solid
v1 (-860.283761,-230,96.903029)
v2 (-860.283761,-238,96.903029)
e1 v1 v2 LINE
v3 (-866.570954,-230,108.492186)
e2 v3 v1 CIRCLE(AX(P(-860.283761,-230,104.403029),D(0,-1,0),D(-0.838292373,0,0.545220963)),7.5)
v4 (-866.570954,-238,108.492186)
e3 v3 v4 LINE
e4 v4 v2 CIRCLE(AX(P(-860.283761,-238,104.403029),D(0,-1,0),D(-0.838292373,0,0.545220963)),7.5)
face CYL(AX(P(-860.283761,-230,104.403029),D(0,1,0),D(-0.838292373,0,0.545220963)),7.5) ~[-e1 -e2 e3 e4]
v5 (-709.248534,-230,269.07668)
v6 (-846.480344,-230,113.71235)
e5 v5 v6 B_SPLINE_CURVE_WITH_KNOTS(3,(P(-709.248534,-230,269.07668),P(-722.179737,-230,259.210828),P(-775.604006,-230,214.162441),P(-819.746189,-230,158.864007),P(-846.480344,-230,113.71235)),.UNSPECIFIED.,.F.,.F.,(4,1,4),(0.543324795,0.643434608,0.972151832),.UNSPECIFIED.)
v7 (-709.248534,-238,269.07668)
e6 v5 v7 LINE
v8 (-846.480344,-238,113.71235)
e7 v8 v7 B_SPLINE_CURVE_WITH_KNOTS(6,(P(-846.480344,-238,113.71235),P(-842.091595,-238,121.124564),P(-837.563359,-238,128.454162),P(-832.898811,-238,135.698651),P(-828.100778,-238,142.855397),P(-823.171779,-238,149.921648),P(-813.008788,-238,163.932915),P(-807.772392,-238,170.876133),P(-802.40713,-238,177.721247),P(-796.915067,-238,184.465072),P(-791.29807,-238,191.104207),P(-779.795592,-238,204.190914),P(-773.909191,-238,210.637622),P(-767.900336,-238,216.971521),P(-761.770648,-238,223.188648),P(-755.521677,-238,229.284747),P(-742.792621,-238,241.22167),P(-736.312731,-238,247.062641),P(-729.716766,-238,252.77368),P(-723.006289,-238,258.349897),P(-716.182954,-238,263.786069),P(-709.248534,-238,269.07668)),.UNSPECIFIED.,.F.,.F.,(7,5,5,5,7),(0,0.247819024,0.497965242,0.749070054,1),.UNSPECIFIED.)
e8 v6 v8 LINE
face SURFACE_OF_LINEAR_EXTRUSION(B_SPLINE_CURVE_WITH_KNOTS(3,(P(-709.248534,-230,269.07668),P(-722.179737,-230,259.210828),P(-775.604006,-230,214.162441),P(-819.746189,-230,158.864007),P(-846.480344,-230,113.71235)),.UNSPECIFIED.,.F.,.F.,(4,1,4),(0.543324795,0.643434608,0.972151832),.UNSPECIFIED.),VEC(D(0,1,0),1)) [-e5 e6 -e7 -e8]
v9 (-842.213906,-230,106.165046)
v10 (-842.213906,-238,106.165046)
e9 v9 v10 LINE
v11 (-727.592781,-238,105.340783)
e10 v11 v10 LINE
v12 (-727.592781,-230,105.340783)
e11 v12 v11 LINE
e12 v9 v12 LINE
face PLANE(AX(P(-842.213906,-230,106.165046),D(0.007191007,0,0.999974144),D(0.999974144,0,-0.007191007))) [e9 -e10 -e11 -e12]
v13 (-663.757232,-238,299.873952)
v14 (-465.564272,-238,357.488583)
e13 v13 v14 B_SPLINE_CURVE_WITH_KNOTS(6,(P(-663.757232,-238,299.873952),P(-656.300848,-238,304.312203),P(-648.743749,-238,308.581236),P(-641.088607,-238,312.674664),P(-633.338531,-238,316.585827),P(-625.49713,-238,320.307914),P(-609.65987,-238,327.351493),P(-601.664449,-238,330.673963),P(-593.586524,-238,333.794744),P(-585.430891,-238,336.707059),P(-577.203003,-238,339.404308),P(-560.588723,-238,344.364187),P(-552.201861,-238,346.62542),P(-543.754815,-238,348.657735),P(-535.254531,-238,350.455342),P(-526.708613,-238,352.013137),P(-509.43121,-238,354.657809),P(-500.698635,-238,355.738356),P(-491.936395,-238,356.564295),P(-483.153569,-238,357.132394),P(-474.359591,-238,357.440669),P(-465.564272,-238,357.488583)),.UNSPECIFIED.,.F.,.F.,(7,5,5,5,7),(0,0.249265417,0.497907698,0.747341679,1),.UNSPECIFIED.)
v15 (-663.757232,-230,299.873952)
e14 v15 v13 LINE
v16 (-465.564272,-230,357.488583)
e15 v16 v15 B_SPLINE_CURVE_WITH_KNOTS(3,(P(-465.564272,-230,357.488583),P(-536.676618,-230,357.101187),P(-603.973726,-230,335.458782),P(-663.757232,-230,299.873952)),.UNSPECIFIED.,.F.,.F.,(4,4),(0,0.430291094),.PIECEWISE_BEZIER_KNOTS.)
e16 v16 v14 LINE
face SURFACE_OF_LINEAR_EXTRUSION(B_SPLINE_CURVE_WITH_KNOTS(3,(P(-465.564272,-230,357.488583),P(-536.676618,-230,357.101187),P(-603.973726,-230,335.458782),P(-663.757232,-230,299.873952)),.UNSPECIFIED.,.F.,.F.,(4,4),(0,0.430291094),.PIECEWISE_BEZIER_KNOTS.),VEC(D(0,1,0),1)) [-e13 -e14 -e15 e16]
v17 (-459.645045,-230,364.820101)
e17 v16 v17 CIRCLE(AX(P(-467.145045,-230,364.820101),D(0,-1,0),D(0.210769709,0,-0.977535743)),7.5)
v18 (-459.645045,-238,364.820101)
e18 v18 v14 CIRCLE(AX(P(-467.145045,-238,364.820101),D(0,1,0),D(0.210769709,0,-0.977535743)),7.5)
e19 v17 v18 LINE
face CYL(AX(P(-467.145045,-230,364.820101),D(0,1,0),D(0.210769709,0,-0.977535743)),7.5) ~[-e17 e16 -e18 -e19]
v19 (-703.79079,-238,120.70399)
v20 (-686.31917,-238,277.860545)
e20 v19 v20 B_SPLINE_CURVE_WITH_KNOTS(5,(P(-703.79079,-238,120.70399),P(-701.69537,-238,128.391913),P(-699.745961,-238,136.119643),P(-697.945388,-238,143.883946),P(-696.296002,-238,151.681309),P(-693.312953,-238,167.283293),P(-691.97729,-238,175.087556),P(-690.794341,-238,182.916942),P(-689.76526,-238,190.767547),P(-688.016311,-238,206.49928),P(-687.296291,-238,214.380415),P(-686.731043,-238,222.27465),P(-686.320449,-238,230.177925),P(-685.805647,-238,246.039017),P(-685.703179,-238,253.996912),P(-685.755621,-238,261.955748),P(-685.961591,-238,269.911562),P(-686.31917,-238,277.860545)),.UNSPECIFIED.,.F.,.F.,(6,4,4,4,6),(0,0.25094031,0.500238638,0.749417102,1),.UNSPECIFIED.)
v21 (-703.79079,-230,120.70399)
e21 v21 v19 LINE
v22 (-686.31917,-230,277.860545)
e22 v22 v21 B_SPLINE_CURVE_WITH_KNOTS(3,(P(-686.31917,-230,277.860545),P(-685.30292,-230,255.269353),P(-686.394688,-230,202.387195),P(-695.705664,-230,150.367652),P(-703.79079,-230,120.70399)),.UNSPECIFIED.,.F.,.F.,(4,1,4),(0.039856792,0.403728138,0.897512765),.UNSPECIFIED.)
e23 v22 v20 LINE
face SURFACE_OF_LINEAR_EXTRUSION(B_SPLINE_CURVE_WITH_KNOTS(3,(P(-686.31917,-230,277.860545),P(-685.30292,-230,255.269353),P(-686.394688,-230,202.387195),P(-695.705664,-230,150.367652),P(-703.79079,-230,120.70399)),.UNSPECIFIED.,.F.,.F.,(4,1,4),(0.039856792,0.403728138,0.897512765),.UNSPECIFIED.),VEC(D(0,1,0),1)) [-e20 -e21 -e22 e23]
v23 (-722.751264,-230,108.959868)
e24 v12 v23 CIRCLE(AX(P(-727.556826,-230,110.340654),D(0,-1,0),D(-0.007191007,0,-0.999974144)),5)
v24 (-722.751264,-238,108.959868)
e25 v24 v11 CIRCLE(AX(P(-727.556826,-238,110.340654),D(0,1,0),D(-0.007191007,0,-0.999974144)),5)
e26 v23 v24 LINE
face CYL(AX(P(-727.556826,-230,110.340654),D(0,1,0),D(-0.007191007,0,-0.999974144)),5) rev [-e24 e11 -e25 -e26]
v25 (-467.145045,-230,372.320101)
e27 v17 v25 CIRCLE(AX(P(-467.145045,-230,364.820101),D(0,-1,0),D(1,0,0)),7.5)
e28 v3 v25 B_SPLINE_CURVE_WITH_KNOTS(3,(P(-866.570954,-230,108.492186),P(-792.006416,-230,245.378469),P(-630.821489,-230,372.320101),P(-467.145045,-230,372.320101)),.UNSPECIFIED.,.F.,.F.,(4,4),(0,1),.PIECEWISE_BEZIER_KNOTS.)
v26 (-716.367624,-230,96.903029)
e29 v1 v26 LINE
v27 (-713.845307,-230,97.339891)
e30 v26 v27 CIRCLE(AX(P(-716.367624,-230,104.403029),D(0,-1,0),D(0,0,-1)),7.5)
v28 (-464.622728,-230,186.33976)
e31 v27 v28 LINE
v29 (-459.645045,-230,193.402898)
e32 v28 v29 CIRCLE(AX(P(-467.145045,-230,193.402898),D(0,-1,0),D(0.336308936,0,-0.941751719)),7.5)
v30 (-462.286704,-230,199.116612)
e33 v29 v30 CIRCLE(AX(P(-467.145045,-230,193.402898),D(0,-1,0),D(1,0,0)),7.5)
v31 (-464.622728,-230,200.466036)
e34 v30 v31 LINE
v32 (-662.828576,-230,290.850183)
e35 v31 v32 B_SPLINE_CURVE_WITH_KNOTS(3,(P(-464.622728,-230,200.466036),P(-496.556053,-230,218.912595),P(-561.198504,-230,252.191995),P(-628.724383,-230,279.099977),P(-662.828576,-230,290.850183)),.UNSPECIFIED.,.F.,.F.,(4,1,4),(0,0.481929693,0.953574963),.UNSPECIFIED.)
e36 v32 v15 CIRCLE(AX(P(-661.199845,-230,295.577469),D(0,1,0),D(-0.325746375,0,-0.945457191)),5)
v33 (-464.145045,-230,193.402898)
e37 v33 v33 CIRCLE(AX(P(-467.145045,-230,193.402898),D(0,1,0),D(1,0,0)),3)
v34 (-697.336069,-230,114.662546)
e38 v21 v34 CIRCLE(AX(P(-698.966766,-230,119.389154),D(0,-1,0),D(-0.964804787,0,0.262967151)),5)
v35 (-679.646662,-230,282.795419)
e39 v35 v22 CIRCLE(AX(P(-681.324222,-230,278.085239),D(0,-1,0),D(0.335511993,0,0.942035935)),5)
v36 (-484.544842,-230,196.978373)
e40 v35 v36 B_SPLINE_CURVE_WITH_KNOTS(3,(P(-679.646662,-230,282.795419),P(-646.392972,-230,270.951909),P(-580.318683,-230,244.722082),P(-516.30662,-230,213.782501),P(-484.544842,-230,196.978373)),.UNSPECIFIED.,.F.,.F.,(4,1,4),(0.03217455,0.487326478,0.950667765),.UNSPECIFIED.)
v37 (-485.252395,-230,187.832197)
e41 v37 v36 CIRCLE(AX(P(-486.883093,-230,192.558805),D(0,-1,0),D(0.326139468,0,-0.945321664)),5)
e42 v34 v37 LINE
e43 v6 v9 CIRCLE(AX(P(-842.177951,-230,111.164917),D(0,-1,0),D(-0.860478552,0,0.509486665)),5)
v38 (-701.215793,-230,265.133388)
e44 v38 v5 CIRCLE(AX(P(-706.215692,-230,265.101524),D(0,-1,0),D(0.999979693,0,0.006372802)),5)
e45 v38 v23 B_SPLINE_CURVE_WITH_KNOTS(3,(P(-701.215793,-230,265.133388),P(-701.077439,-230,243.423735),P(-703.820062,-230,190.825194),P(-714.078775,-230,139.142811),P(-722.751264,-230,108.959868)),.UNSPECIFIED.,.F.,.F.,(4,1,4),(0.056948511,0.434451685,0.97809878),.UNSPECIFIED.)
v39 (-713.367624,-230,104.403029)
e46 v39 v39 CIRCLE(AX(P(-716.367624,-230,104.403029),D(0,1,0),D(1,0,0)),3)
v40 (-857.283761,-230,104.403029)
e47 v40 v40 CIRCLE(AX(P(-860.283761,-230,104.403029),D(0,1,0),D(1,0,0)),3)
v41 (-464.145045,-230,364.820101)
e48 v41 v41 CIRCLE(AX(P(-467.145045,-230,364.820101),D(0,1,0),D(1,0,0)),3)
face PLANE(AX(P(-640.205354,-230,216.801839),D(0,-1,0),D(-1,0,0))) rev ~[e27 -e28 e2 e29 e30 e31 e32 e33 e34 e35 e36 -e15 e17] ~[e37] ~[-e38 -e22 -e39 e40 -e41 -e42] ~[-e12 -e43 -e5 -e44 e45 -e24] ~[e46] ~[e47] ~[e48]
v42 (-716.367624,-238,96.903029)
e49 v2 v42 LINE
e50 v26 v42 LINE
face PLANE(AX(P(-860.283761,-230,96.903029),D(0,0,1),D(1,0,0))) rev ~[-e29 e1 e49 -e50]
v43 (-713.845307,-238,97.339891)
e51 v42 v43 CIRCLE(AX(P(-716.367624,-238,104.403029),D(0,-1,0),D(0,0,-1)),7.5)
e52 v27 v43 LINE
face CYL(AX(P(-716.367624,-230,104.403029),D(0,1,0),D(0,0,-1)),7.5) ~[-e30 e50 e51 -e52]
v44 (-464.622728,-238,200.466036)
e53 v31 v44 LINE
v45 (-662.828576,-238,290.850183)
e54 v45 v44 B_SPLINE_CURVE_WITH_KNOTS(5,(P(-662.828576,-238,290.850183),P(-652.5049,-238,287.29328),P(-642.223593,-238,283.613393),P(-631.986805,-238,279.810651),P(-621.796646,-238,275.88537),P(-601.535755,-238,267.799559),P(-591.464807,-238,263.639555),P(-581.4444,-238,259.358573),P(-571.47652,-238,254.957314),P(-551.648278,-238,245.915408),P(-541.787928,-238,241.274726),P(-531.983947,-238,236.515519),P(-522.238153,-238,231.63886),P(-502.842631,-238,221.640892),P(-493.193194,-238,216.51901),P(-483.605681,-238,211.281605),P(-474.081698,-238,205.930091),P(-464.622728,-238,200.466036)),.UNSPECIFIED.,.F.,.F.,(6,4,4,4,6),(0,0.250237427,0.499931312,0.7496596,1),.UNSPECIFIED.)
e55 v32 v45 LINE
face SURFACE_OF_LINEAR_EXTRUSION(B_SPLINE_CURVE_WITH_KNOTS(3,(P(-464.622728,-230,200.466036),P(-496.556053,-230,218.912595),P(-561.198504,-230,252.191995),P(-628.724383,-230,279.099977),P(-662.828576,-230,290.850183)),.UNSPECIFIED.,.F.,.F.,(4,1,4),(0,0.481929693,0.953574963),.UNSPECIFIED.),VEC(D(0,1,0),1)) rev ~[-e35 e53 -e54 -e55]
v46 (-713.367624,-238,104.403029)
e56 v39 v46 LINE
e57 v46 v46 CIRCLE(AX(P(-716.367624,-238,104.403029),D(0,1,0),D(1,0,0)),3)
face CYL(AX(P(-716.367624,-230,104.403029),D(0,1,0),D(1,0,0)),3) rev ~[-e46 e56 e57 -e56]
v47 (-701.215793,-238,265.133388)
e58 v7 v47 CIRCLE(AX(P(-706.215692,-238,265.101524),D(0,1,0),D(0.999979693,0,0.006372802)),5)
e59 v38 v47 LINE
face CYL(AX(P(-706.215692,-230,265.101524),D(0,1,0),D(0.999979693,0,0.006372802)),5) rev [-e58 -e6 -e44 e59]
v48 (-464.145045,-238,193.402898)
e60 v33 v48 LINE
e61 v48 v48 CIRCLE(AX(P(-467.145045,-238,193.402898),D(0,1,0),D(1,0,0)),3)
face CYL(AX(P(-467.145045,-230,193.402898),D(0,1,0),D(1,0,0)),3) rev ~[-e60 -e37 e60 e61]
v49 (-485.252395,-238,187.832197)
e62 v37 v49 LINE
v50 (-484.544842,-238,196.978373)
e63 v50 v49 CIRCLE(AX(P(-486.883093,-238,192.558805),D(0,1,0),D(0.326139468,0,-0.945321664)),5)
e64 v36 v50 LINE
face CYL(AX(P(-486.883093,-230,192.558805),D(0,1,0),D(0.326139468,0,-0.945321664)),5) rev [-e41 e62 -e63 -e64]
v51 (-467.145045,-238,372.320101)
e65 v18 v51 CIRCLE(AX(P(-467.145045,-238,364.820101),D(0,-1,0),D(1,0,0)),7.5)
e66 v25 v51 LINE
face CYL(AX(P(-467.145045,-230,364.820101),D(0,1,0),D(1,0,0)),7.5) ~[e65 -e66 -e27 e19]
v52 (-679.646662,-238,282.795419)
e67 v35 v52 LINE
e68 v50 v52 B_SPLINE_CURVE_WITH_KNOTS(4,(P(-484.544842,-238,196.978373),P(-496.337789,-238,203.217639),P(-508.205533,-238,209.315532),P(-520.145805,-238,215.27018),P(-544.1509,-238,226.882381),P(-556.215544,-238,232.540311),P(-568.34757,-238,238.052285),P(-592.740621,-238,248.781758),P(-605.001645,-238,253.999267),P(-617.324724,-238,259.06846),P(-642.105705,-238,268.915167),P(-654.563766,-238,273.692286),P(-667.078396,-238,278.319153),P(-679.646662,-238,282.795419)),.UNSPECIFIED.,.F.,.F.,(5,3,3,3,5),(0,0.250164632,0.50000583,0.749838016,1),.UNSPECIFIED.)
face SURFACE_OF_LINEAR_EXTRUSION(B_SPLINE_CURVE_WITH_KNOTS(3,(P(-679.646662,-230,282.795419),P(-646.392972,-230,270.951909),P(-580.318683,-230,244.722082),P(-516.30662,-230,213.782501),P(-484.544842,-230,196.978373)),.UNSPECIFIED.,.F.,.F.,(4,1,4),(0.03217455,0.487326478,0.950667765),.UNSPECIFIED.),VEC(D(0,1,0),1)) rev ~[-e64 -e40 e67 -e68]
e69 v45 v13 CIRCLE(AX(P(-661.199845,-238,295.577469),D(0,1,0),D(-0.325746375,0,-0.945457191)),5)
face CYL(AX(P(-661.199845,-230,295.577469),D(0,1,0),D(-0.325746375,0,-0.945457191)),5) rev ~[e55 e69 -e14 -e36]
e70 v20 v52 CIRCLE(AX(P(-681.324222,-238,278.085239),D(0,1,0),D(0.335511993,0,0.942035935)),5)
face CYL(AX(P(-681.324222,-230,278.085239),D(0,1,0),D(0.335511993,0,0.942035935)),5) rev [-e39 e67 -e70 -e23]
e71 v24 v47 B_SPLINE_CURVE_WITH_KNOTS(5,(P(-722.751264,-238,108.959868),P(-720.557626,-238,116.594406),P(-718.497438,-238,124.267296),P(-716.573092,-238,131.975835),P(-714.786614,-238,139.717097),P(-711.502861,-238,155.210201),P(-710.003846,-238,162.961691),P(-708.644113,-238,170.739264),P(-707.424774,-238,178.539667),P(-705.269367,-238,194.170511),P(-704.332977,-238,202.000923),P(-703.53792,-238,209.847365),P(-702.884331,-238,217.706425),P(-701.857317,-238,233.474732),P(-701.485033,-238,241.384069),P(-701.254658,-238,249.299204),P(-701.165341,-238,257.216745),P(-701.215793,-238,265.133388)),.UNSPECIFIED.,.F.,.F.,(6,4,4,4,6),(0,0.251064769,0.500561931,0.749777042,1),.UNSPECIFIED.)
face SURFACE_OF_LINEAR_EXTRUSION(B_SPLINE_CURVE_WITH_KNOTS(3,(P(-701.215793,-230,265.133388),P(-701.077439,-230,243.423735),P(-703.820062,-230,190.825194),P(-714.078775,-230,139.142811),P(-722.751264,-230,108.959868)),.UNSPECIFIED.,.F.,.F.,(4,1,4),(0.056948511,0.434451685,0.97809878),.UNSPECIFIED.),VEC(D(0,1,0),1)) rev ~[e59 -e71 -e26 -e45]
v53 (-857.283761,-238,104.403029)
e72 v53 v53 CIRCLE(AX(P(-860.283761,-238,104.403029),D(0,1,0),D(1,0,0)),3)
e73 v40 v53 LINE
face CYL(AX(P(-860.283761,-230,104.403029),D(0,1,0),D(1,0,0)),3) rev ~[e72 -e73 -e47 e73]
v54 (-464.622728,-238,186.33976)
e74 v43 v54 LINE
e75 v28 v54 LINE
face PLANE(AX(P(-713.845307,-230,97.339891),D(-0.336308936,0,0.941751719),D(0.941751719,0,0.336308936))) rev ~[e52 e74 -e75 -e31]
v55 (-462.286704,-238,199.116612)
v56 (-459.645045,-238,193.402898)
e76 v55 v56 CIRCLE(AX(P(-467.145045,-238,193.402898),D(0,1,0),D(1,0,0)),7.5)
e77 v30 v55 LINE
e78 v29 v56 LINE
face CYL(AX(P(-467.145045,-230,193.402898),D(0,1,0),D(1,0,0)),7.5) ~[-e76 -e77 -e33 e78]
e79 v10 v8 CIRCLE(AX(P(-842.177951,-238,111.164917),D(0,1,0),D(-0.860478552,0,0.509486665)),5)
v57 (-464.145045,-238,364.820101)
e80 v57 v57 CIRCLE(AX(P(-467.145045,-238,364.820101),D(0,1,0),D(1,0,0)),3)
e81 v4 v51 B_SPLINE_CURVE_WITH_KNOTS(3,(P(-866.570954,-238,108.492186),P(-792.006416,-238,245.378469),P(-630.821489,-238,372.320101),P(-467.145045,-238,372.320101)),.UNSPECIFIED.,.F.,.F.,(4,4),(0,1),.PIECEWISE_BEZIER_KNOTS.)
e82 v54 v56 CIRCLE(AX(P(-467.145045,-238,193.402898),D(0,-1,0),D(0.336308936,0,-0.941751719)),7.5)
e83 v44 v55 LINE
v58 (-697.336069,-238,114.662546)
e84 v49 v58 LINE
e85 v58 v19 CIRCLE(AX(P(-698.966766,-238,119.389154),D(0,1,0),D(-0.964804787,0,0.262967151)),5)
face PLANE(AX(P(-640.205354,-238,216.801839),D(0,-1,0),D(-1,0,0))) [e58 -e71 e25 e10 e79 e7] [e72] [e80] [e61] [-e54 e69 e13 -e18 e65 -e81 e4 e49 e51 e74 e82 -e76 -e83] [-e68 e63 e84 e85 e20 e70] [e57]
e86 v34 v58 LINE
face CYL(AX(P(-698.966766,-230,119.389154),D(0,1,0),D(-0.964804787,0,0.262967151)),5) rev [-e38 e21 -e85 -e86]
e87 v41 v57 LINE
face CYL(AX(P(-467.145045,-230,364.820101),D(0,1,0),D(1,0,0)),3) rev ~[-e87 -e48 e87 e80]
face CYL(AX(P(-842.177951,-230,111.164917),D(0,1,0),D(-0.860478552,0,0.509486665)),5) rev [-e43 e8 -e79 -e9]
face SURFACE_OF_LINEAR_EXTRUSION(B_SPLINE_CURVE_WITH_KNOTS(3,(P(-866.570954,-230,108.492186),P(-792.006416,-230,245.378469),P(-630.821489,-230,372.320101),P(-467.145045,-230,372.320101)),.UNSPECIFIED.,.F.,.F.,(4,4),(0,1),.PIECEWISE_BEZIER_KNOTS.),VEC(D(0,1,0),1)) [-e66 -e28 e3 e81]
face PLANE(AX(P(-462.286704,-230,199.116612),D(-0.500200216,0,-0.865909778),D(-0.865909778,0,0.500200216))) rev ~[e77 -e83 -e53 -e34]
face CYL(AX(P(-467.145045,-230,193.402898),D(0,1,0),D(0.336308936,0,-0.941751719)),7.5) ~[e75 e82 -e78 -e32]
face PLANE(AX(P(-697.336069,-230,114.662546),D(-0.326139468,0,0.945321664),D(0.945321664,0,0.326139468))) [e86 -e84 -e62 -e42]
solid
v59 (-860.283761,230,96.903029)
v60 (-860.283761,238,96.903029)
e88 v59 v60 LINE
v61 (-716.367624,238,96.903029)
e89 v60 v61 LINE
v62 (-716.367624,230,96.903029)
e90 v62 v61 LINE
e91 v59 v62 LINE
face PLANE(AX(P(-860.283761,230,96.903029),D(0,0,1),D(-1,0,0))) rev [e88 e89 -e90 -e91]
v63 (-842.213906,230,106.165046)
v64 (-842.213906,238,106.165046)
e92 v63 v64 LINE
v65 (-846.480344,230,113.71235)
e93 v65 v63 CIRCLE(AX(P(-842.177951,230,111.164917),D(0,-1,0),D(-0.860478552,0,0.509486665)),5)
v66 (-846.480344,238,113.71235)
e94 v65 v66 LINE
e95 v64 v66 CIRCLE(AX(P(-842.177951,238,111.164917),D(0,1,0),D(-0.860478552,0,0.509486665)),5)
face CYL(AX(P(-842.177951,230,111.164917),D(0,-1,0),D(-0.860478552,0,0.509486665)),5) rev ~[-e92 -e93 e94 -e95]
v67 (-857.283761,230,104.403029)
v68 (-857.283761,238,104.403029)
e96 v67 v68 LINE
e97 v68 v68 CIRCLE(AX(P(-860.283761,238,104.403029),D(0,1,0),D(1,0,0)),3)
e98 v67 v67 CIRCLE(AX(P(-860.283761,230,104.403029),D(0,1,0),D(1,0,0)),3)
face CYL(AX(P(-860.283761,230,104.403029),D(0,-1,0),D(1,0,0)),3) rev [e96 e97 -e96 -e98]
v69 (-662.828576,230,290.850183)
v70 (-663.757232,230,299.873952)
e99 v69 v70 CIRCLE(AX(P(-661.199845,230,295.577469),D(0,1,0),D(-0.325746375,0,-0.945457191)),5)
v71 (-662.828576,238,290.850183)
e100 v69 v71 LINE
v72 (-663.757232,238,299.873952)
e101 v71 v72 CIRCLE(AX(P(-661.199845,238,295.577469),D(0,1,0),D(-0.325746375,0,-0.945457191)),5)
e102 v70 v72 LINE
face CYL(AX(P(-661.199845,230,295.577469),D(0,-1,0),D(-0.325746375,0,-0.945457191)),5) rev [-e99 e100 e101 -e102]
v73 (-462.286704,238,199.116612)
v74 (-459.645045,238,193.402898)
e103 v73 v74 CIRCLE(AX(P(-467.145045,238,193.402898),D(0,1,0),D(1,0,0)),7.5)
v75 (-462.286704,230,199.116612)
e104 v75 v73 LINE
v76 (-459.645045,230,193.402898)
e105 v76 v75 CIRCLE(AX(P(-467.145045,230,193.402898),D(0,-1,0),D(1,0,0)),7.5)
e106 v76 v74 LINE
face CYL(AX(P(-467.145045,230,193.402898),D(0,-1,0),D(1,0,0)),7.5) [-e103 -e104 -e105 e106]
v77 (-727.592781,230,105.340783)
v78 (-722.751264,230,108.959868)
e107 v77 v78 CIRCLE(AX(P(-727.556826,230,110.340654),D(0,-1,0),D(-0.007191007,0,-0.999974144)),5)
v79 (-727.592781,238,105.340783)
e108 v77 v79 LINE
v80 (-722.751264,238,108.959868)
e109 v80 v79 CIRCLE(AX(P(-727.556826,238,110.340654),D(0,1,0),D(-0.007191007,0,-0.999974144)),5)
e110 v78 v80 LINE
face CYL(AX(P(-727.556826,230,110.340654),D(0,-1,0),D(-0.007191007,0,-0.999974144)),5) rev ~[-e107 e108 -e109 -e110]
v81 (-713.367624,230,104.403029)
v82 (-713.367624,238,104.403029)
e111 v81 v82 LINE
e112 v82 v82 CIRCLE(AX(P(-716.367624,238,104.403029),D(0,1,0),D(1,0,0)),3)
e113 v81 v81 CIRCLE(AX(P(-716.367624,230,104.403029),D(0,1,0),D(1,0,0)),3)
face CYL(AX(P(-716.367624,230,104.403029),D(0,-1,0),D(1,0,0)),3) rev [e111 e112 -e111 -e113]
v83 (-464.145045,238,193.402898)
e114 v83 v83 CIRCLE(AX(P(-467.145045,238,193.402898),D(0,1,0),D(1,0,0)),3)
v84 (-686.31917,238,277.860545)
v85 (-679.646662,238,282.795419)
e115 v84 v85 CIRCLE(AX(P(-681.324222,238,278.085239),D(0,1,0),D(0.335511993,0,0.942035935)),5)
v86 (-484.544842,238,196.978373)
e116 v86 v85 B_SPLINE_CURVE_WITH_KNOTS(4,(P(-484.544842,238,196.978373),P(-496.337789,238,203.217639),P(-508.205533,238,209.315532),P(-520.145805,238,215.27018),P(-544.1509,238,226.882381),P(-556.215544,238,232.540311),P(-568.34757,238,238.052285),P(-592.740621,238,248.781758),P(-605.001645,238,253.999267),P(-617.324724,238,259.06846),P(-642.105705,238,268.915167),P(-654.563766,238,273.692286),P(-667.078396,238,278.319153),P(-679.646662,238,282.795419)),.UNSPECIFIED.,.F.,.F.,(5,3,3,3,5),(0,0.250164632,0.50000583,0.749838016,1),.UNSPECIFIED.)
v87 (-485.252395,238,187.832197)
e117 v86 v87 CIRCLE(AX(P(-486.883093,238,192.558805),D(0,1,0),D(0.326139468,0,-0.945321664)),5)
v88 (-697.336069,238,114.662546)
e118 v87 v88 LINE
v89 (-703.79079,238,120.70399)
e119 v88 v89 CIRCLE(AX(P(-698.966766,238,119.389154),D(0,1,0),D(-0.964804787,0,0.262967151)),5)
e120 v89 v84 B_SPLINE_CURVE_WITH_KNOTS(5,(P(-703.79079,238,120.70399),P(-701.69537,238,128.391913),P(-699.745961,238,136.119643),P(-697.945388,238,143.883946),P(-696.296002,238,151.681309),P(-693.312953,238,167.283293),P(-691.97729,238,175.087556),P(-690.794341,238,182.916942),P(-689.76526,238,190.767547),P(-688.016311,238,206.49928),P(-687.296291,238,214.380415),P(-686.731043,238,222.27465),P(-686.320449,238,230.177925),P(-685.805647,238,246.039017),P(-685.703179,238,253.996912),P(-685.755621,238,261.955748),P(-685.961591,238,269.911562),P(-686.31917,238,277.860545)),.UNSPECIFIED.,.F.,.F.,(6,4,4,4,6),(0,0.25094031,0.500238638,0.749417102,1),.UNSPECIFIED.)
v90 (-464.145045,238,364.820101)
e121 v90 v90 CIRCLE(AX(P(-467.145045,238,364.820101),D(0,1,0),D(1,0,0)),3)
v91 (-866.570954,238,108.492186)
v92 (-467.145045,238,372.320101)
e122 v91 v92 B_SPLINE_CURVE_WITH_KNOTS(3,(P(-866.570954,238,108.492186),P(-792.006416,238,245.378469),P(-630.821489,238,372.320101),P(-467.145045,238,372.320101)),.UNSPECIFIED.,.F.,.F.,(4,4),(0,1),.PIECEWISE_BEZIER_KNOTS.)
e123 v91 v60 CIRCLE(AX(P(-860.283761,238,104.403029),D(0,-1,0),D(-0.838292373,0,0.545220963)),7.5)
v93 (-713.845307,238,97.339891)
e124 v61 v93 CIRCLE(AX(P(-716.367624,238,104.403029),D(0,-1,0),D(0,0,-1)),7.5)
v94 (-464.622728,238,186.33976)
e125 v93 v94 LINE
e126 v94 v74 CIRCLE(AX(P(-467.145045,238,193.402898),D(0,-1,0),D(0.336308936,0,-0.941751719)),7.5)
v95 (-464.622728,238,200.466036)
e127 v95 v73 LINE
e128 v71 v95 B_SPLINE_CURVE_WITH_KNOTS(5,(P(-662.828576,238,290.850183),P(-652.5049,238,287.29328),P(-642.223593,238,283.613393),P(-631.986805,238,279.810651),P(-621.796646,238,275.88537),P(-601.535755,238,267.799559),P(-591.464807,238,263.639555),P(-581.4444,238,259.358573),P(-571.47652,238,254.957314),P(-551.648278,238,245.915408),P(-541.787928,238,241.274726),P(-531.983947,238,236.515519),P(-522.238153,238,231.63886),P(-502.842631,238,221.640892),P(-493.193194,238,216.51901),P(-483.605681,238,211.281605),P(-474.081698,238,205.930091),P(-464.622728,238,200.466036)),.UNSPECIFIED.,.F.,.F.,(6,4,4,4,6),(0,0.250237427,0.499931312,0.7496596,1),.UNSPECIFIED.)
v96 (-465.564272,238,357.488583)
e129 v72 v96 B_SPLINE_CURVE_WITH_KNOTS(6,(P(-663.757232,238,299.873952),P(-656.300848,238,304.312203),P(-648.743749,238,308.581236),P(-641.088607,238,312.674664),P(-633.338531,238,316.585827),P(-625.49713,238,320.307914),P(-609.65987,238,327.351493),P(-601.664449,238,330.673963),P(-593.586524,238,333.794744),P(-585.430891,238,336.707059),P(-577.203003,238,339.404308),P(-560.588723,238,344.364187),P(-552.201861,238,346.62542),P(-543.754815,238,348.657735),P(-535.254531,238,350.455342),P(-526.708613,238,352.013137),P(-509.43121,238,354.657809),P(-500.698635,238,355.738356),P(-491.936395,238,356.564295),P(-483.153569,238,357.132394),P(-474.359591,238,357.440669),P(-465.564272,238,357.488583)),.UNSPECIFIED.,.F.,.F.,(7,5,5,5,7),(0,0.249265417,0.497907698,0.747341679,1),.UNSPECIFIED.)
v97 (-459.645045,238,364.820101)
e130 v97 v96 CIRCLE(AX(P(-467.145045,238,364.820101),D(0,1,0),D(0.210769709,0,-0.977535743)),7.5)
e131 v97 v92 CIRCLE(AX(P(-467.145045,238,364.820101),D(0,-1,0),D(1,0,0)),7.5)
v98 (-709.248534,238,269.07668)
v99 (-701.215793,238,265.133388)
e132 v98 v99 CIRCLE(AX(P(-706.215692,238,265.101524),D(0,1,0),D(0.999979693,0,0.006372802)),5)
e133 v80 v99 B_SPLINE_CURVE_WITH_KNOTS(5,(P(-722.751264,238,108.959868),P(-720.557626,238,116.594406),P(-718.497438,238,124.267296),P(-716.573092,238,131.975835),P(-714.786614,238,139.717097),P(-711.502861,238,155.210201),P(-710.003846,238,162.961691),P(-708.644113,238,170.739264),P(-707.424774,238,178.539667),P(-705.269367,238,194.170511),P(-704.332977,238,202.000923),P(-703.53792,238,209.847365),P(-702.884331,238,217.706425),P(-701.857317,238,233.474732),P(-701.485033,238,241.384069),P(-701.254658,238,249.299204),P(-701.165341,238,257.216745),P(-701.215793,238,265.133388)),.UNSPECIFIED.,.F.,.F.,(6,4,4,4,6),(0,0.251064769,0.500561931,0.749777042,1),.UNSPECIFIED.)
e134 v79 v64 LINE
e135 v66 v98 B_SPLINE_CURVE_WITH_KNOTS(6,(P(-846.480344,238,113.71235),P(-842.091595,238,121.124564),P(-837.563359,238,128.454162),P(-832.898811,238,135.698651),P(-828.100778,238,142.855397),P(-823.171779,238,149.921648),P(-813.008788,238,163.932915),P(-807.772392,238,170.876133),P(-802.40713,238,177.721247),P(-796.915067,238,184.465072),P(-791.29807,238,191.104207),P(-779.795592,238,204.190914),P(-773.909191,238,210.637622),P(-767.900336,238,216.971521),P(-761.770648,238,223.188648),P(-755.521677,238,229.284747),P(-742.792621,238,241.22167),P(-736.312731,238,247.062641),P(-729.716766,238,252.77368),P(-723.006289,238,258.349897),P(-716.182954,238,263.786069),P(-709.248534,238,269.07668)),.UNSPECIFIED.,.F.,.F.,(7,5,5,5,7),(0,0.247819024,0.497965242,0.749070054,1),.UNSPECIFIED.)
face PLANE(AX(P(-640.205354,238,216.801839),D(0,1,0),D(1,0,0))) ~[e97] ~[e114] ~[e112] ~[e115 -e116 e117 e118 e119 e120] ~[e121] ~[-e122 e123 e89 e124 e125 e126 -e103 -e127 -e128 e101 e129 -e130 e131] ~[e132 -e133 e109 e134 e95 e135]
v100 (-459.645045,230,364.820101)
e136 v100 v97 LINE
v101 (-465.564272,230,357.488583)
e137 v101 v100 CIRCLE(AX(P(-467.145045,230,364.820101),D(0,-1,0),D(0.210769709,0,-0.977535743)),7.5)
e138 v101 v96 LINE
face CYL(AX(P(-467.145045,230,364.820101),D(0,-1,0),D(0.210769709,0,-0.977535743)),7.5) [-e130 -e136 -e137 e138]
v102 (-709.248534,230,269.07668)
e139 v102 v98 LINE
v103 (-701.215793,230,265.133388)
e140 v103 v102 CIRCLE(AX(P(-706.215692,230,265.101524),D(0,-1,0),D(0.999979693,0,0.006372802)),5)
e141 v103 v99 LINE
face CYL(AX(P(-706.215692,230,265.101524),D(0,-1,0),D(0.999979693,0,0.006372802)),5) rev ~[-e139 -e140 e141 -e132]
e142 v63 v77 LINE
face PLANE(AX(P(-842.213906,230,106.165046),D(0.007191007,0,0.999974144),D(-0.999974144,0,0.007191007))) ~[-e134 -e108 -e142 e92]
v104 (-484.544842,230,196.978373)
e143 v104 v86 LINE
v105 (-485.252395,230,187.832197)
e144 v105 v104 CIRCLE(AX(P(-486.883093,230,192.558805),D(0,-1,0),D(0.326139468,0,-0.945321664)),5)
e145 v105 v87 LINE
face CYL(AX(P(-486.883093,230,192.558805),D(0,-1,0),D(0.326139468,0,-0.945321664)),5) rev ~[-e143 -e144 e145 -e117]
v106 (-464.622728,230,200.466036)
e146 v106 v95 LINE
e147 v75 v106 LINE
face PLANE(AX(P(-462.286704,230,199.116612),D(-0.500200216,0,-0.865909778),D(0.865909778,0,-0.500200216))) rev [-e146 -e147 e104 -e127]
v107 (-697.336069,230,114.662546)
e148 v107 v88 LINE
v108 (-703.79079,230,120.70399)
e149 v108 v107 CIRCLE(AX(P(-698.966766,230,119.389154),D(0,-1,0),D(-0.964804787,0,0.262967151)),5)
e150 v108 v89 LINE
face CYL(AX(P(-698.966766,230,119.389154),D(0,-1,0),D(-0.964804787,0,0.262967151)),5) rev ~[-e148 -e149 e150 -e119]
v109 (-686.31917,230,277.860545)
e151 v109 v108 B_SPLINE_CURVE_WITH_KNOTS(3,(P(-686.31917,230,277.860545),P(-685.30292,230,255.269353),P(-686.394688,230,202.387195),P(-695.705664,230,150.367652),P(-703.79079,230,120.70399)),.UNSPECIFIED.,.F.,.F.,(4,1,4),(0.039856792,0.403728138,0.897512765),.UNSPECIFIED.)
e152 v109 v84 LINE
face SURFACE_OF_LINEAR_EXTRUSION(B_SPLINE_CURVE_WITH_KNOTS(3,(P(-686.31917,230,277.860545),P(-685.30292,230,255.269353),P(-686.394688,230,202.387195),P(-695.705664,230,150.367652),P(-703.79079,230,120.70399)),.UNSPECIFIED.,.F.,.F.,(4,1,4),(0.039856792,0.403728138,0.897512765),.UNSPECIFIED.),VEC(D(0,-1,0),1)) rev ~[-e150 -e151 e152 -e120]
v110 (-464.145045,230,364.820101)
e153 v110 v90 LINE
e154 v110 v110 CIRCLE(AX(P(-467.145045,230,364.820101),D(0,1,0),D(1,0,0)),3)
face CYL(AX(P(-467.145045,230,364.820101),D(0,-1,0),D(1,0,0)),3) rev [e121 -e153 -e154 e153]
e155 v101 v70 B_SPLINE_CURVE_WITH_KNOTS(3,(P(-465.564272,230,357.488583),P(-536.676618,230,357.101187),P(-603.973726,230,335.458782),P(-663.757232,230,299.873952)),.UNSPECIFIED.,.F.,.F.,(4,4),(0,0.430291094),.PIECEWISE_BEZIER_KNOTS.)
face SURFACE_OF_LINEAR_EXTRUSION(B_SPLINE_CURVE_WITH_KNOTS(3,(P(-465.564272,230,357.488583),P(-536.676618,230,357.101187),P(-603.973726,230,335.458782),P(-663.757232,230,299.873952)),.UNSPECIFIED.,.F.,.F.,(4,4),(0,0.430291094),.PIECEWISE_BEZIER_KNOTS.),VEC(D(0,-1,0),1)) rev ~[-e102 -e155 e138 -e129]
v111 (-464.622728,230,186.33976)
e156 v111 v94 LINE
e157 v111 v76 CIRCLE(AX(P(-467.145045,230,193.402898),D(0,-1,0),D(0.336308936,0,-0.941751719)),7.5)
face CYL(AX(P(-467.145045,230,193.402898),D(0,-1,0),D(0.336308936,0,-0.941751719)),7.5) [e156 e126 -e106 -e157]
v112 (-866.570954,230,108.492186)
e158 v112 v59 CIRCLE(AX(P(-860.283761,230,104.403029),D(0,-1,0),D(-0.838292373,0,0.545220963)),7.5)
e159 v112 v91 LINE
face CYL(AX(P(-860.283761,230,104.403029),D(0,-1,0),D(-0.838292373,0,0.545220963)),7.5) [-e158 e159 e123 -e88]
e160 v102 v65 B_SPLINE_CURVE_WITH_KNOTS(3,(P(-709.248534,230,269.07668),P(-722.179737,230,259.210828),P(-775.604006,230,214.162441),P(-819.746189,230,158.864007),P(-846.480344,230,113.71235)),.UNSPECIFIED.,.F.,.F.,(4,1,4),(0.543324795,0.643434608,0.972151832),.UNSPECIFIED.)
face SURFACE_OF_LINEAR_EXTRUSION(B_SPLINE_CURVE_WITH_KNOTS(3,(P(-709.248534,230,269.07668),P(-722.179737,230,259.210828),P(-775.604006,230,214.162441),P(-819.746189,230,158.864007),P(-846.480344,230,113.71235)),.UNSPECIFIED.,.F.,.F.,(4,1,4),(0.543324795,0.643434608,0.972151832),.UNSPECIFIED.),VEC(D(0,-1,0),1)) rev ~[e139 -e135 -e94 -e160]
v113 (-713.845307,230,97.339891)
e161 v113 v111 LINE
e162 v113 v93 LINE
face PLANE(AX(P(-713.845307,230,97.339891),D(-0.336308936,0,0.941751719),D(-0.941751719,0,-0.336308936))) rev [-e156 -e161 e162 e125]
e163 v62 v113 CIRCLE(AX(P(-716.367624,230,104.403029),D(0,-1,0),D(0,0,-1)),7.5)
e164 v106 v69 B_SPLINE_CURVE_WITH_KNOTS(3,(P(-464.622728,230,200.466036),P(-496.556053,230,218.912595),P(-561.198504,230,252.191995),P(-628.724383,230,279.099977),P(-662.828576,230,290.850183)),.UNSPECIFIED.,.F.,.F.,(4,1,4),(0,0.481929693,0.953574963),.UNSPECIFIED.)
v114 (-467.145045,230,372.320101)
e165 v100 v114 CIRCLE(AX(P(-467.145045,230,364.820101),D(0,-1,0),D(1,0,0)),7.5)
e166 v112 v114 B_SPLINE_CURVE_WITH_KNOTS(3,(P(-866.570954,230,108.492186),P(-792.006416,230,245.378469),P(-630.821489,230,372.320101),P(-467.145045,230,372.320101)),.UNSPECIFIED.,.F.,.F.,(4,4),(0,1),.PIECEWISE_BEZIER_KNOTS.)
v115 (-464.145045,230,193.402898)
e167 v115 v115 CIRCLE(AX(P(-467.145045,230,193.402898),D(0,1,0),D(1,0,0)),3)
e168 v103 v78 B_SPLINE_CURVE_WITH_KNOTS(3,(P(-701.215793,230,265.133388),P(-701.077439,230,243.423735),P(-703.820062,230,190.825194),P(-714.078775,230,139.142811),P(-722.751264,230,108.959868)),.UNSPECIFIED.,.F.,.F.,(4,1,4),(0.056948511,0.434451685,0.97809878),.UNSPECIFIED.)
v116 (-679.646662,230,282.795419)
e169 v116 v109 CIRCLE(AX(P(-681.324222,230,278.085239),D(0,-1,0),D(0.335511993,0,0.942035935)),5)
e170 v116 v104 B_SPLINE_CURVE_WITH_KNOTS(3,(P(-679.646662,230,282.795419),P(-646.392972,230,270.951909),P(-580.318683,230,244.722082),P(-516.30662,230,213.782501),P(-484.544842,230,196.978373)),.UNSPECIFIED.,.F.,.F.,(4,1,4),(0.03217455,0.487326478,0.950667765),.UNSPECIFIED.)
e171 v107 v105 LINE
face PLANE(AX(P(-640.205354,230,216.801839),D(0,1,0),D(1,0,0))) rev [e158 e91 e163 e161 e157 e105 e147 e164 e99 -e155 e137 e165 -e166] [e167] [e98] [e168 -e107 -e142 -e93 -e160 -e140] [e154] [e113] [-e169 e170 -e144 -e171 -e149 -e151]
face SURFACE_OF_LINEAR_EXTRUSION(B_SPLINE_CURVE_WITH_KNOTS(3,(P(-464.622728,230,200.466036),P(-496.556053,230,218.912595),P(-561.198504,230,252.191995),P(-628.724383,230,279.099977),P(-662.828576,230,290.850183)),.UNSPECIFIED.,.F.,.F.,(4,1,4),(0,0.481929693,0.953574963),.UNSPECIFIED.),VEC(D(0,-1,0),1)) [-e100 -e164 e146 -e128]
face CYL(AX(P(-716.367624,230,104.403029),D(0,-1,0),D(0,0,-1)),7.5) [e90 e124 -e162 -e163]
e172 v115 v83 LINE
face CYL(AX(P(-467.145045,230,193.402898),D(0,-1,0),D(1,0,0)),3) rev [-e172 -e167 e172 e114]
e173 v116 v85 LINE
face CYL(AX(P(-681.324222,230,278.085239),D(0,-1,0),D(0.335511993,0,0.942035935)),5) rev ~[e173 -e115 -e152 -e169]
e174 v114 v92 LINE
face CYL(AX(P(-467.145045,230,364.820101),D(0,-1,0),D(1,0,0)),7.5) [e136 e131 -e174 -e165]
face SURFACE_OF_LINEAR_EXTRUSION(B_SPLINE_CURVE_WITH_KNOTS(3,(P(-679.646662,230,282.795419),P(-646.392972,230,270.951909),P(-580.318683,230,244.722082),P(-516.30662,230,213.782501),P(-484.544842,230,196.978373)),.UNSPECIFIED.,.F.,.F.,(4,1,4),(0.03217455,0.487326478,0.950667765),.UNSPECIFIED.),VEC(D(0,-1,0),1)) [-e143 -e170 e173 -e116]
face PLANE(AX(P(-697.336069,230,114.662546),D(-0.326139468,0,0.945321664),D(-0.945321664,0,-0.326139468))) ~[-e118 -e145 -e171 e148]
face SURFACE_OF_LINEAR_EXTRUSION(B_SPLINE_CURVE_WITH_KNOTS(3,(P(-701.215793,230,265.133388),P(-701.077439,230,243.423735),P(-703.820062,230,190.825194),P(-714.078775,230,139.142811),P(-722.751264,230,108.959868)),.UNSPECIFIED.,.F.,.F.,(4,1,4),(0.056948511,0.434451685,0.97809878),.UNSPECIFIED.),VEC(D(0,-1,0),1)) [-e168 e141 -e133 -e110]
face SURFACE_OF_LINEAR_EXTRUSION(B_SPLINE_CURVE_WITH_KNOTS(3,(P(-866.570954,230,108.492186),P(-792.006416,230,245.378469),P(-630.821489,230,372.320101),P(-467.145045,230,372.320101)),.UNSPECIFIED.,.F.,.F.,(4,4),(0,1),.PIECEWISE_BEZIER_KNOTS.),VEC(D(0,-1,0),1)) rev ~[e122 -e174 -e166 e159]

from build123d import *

# Parameters (mm, degrees)
SZKIC1_R                    = 3
DODANIE_WYCI_GNI_CIE1_DEPTH = 8
WYTNIJ_WYCI_GNI_CIE1_DEPTH  = 10


with BuildPart() as part:
    # Szkic1 → Dodanie-wyciągnięcie1 (new body)
    with BuildSketch(Plane(origin=(0, -230, 0), x_dir=(1, 0, 0), z_dir=(0, 1, 0))):
        with BuildLine():
            Line((-860.283761323, -96.903028566), (-716.367623737, -96.903028566))
            ThreePointArc((-716.367623737, -96.903028566), (-715.087689008, -97.01305109), (-713.845306719, -97.339890675))
            Line((-713.845306719, -97.339890675), (-464.622728154, -186.339760243))
            ThreePointArc((-464.622728154, -186.339760243), (-461.014491459, -189.082445474), (-459.645045171, -193.402898133))
            Line((-459.645045171, -193.402898133), (-459.645045171, -364.820100819))
            ThreePointArc((-459.645045171, -364.820100819), (-461.841744312, -370.123401678), (-467.145045171, -372.320100819))
            add(Edge.make_bspline(
                [(-866.570954117, -108.492185785), (-792.00641608, -245.378469281), (-630.821489356, -372.320100819), (-467.145045171, -372.320100819)],
                knots=[0, 0, 0, 0, 1, 1, 1, 1], degree=3))
            ThreePointArc((-866.570954117, -108.492185785), (-866.876131122, -100.826625285), (-860.283761323, -96.903028566))
        make_face()
        with Locations((-860.283761323, -104.403028566)):
            Circle(SZKIC1_R, mode=Mode.SUBTRACT)
        with Locations((-716.367623737, -104.403028566)):
            Circle(SZKIC1_R, mode=Mode.SUBTRACT)
        with Locations((-467.145045171, -364.820100819)):
            Circle(SZKIC1_R, mode=Mode.SUBTRACT)
        with Locations((-467.145045171, -193.402898133)):
            Circle(SZKIC1_R, mode=Mode.SUBTRACT)
    extrude(amount=-DODANIE_WYCI_GNI_CIE1_DEPTH)

    # Szkic3 → Wytnij-wyciągnięcie1 (cut)
    with BuildSketch(Plane(origin=(0, -230, 0), x_dir=(1, 0, 0), z_dir=(0, 1, 0))):
        with BuildLine():
            add(Edge.make_bspline(
                [(-709.248534219, -269.07668038), (-722.179737317, -259.210827847), (-775.604005814, -214.162441173), (-819.746188645, -158.864006657), (-846.480343559, -113.712350137)],
                knots=[0.543324795, 0.543324795, 0.543324795, 0.543324795, 0.643434608, 0.972151832, 0.972151832, 0.972151832, 0.972151832], degree=3))
            ThreePointArc((-846.480343559, -113.712350137), (-846.530624115, -108.704381299), (-842.213905835, -106.16504609))
            Line((-842.213905835, -106.16504609), (-727.592781287, -105.340783466))
            ThreePointArc((-727.592781287, -105.340783466), (-724.563211054, -106.335873539), (-722.751263872, -108.959868102))
            add(Edge.make_bspline(
                [(-701.215793155, -265.133388319), (-701.077439027, -243.423735214), (-703.820061872, -190.825193742), (-714.078774615, -139.14281138), (-722.751263872, -108.959868102)],
                knots=[0.056948511, 0.056948511, 0.056948511, 0.056948511, 0.434451685, 0.97809878, 0.97809878, 0.97809878, 0.97809878], degree=3))
            ThreePointArc((-701.215793155, -265.133388319), (-704.012349781, -269.589874199), (-709.248534219, -269.07668038))
        make_face()
        with BuildLine():
            add(Edge.make_bspline(
                [(-686.319170472, -277.860544771), (-685.302920026, -255.26935331), (-686.39468841, -202.387194664), (-695.705663637, -150.367651954), (-703.790790165, -120.703989623)],
                knots=[0.039856792, 0.039856792, 0.039856792, 0.039856792, 0.403728138, 0.897512765, 0.897512765, 0.897512765, 0.897512765], degree=3))
            ThreePointArc((-703.790790165, -120.703989623), (-702.383503754, -115.738687501), (-697.33606889, -114.662545549))
            Line((-697.33606889, -114.662545549), (-485.252395428, -187.832196761))
            ThreePointArc((-485.252395428, -187.832196761), (-481.897987574, -192.173154702), (-484.544842355, -196.978373497))
            add(Edge.make_bspline(
                [(-679.646661827, -282.79541905), (-646.392972029, -270.951909358), (-580.318683117, -244.722081668), (-516.306620405, -213.782500871), (-484.544842355, -196.978373497)],
                knots=[0.03217455, 0.03217455, 0.03217455, 0.03217455, 0.487326478, 0.950667765, 0.950667765, 0.950667765, 0.950667765], degree=3))
            ThreePointArc((-679.646661827, -282.79541905), (-684.297353643, -282.105250194), (-686.319170472, -277.860544771))
        make_face()
        with BuildLine():
            Line((-459.645045171, -364.820100819), (-459.645045171, -193.402898133))
            ThreePointArc((-459.645045171, -193.402898133), (-460.337418676, -196.550313185), (-462.28670424, -199.116611759))
            Line((-462.28670424, -199.116611759), (-464.622728154, -200.466036024))
            add(Edge.make_bspline(
                [(-464.622728154, -200.466036024), (-496.556052513, -218.91259494), (-561.198503951, -252.191994525), (-628.724382783, -279.099976613), (-662.828576381, -290.850183316)],
                knots=[0, 0, 0, 0, 0.481929693, 0.953574963, 0.953574963, 0.953574963, 0.953574963], degree=3))
            ThreePointArc((-662.828576381, -290.850183316), (-666.173575672, -295.065611568), (-663.757232459, -299.873952351))
            add(Edge.make_bspline(
                [(-465.564272351, -357.488582744), (-536.676618046, -357.101187386), (-603.973726194, -335.458782), (-663.757232459, -299.873952351)],
                knots=[0, 0, 0, 0, 0.430291094, 0.430291094, 0.430291094, 0.430291094], degree=3))
            ThreePointArc((-465.564272351, -357.488582744), (-461.309559067, -360.108720775), (-459.645045171, -364.820100819))
        make_face()
    extrude(amount=-WYTNIJ_WYCI_GNI_CIE1_DEPTH, mode=Mode.SUBTRACT)


with BuildPart() as body_2:
    # Lustro1: mirrored copy
    add(part.part.mirror(Plane.ZX))


solid = Compound([part.part, body_2.part])
